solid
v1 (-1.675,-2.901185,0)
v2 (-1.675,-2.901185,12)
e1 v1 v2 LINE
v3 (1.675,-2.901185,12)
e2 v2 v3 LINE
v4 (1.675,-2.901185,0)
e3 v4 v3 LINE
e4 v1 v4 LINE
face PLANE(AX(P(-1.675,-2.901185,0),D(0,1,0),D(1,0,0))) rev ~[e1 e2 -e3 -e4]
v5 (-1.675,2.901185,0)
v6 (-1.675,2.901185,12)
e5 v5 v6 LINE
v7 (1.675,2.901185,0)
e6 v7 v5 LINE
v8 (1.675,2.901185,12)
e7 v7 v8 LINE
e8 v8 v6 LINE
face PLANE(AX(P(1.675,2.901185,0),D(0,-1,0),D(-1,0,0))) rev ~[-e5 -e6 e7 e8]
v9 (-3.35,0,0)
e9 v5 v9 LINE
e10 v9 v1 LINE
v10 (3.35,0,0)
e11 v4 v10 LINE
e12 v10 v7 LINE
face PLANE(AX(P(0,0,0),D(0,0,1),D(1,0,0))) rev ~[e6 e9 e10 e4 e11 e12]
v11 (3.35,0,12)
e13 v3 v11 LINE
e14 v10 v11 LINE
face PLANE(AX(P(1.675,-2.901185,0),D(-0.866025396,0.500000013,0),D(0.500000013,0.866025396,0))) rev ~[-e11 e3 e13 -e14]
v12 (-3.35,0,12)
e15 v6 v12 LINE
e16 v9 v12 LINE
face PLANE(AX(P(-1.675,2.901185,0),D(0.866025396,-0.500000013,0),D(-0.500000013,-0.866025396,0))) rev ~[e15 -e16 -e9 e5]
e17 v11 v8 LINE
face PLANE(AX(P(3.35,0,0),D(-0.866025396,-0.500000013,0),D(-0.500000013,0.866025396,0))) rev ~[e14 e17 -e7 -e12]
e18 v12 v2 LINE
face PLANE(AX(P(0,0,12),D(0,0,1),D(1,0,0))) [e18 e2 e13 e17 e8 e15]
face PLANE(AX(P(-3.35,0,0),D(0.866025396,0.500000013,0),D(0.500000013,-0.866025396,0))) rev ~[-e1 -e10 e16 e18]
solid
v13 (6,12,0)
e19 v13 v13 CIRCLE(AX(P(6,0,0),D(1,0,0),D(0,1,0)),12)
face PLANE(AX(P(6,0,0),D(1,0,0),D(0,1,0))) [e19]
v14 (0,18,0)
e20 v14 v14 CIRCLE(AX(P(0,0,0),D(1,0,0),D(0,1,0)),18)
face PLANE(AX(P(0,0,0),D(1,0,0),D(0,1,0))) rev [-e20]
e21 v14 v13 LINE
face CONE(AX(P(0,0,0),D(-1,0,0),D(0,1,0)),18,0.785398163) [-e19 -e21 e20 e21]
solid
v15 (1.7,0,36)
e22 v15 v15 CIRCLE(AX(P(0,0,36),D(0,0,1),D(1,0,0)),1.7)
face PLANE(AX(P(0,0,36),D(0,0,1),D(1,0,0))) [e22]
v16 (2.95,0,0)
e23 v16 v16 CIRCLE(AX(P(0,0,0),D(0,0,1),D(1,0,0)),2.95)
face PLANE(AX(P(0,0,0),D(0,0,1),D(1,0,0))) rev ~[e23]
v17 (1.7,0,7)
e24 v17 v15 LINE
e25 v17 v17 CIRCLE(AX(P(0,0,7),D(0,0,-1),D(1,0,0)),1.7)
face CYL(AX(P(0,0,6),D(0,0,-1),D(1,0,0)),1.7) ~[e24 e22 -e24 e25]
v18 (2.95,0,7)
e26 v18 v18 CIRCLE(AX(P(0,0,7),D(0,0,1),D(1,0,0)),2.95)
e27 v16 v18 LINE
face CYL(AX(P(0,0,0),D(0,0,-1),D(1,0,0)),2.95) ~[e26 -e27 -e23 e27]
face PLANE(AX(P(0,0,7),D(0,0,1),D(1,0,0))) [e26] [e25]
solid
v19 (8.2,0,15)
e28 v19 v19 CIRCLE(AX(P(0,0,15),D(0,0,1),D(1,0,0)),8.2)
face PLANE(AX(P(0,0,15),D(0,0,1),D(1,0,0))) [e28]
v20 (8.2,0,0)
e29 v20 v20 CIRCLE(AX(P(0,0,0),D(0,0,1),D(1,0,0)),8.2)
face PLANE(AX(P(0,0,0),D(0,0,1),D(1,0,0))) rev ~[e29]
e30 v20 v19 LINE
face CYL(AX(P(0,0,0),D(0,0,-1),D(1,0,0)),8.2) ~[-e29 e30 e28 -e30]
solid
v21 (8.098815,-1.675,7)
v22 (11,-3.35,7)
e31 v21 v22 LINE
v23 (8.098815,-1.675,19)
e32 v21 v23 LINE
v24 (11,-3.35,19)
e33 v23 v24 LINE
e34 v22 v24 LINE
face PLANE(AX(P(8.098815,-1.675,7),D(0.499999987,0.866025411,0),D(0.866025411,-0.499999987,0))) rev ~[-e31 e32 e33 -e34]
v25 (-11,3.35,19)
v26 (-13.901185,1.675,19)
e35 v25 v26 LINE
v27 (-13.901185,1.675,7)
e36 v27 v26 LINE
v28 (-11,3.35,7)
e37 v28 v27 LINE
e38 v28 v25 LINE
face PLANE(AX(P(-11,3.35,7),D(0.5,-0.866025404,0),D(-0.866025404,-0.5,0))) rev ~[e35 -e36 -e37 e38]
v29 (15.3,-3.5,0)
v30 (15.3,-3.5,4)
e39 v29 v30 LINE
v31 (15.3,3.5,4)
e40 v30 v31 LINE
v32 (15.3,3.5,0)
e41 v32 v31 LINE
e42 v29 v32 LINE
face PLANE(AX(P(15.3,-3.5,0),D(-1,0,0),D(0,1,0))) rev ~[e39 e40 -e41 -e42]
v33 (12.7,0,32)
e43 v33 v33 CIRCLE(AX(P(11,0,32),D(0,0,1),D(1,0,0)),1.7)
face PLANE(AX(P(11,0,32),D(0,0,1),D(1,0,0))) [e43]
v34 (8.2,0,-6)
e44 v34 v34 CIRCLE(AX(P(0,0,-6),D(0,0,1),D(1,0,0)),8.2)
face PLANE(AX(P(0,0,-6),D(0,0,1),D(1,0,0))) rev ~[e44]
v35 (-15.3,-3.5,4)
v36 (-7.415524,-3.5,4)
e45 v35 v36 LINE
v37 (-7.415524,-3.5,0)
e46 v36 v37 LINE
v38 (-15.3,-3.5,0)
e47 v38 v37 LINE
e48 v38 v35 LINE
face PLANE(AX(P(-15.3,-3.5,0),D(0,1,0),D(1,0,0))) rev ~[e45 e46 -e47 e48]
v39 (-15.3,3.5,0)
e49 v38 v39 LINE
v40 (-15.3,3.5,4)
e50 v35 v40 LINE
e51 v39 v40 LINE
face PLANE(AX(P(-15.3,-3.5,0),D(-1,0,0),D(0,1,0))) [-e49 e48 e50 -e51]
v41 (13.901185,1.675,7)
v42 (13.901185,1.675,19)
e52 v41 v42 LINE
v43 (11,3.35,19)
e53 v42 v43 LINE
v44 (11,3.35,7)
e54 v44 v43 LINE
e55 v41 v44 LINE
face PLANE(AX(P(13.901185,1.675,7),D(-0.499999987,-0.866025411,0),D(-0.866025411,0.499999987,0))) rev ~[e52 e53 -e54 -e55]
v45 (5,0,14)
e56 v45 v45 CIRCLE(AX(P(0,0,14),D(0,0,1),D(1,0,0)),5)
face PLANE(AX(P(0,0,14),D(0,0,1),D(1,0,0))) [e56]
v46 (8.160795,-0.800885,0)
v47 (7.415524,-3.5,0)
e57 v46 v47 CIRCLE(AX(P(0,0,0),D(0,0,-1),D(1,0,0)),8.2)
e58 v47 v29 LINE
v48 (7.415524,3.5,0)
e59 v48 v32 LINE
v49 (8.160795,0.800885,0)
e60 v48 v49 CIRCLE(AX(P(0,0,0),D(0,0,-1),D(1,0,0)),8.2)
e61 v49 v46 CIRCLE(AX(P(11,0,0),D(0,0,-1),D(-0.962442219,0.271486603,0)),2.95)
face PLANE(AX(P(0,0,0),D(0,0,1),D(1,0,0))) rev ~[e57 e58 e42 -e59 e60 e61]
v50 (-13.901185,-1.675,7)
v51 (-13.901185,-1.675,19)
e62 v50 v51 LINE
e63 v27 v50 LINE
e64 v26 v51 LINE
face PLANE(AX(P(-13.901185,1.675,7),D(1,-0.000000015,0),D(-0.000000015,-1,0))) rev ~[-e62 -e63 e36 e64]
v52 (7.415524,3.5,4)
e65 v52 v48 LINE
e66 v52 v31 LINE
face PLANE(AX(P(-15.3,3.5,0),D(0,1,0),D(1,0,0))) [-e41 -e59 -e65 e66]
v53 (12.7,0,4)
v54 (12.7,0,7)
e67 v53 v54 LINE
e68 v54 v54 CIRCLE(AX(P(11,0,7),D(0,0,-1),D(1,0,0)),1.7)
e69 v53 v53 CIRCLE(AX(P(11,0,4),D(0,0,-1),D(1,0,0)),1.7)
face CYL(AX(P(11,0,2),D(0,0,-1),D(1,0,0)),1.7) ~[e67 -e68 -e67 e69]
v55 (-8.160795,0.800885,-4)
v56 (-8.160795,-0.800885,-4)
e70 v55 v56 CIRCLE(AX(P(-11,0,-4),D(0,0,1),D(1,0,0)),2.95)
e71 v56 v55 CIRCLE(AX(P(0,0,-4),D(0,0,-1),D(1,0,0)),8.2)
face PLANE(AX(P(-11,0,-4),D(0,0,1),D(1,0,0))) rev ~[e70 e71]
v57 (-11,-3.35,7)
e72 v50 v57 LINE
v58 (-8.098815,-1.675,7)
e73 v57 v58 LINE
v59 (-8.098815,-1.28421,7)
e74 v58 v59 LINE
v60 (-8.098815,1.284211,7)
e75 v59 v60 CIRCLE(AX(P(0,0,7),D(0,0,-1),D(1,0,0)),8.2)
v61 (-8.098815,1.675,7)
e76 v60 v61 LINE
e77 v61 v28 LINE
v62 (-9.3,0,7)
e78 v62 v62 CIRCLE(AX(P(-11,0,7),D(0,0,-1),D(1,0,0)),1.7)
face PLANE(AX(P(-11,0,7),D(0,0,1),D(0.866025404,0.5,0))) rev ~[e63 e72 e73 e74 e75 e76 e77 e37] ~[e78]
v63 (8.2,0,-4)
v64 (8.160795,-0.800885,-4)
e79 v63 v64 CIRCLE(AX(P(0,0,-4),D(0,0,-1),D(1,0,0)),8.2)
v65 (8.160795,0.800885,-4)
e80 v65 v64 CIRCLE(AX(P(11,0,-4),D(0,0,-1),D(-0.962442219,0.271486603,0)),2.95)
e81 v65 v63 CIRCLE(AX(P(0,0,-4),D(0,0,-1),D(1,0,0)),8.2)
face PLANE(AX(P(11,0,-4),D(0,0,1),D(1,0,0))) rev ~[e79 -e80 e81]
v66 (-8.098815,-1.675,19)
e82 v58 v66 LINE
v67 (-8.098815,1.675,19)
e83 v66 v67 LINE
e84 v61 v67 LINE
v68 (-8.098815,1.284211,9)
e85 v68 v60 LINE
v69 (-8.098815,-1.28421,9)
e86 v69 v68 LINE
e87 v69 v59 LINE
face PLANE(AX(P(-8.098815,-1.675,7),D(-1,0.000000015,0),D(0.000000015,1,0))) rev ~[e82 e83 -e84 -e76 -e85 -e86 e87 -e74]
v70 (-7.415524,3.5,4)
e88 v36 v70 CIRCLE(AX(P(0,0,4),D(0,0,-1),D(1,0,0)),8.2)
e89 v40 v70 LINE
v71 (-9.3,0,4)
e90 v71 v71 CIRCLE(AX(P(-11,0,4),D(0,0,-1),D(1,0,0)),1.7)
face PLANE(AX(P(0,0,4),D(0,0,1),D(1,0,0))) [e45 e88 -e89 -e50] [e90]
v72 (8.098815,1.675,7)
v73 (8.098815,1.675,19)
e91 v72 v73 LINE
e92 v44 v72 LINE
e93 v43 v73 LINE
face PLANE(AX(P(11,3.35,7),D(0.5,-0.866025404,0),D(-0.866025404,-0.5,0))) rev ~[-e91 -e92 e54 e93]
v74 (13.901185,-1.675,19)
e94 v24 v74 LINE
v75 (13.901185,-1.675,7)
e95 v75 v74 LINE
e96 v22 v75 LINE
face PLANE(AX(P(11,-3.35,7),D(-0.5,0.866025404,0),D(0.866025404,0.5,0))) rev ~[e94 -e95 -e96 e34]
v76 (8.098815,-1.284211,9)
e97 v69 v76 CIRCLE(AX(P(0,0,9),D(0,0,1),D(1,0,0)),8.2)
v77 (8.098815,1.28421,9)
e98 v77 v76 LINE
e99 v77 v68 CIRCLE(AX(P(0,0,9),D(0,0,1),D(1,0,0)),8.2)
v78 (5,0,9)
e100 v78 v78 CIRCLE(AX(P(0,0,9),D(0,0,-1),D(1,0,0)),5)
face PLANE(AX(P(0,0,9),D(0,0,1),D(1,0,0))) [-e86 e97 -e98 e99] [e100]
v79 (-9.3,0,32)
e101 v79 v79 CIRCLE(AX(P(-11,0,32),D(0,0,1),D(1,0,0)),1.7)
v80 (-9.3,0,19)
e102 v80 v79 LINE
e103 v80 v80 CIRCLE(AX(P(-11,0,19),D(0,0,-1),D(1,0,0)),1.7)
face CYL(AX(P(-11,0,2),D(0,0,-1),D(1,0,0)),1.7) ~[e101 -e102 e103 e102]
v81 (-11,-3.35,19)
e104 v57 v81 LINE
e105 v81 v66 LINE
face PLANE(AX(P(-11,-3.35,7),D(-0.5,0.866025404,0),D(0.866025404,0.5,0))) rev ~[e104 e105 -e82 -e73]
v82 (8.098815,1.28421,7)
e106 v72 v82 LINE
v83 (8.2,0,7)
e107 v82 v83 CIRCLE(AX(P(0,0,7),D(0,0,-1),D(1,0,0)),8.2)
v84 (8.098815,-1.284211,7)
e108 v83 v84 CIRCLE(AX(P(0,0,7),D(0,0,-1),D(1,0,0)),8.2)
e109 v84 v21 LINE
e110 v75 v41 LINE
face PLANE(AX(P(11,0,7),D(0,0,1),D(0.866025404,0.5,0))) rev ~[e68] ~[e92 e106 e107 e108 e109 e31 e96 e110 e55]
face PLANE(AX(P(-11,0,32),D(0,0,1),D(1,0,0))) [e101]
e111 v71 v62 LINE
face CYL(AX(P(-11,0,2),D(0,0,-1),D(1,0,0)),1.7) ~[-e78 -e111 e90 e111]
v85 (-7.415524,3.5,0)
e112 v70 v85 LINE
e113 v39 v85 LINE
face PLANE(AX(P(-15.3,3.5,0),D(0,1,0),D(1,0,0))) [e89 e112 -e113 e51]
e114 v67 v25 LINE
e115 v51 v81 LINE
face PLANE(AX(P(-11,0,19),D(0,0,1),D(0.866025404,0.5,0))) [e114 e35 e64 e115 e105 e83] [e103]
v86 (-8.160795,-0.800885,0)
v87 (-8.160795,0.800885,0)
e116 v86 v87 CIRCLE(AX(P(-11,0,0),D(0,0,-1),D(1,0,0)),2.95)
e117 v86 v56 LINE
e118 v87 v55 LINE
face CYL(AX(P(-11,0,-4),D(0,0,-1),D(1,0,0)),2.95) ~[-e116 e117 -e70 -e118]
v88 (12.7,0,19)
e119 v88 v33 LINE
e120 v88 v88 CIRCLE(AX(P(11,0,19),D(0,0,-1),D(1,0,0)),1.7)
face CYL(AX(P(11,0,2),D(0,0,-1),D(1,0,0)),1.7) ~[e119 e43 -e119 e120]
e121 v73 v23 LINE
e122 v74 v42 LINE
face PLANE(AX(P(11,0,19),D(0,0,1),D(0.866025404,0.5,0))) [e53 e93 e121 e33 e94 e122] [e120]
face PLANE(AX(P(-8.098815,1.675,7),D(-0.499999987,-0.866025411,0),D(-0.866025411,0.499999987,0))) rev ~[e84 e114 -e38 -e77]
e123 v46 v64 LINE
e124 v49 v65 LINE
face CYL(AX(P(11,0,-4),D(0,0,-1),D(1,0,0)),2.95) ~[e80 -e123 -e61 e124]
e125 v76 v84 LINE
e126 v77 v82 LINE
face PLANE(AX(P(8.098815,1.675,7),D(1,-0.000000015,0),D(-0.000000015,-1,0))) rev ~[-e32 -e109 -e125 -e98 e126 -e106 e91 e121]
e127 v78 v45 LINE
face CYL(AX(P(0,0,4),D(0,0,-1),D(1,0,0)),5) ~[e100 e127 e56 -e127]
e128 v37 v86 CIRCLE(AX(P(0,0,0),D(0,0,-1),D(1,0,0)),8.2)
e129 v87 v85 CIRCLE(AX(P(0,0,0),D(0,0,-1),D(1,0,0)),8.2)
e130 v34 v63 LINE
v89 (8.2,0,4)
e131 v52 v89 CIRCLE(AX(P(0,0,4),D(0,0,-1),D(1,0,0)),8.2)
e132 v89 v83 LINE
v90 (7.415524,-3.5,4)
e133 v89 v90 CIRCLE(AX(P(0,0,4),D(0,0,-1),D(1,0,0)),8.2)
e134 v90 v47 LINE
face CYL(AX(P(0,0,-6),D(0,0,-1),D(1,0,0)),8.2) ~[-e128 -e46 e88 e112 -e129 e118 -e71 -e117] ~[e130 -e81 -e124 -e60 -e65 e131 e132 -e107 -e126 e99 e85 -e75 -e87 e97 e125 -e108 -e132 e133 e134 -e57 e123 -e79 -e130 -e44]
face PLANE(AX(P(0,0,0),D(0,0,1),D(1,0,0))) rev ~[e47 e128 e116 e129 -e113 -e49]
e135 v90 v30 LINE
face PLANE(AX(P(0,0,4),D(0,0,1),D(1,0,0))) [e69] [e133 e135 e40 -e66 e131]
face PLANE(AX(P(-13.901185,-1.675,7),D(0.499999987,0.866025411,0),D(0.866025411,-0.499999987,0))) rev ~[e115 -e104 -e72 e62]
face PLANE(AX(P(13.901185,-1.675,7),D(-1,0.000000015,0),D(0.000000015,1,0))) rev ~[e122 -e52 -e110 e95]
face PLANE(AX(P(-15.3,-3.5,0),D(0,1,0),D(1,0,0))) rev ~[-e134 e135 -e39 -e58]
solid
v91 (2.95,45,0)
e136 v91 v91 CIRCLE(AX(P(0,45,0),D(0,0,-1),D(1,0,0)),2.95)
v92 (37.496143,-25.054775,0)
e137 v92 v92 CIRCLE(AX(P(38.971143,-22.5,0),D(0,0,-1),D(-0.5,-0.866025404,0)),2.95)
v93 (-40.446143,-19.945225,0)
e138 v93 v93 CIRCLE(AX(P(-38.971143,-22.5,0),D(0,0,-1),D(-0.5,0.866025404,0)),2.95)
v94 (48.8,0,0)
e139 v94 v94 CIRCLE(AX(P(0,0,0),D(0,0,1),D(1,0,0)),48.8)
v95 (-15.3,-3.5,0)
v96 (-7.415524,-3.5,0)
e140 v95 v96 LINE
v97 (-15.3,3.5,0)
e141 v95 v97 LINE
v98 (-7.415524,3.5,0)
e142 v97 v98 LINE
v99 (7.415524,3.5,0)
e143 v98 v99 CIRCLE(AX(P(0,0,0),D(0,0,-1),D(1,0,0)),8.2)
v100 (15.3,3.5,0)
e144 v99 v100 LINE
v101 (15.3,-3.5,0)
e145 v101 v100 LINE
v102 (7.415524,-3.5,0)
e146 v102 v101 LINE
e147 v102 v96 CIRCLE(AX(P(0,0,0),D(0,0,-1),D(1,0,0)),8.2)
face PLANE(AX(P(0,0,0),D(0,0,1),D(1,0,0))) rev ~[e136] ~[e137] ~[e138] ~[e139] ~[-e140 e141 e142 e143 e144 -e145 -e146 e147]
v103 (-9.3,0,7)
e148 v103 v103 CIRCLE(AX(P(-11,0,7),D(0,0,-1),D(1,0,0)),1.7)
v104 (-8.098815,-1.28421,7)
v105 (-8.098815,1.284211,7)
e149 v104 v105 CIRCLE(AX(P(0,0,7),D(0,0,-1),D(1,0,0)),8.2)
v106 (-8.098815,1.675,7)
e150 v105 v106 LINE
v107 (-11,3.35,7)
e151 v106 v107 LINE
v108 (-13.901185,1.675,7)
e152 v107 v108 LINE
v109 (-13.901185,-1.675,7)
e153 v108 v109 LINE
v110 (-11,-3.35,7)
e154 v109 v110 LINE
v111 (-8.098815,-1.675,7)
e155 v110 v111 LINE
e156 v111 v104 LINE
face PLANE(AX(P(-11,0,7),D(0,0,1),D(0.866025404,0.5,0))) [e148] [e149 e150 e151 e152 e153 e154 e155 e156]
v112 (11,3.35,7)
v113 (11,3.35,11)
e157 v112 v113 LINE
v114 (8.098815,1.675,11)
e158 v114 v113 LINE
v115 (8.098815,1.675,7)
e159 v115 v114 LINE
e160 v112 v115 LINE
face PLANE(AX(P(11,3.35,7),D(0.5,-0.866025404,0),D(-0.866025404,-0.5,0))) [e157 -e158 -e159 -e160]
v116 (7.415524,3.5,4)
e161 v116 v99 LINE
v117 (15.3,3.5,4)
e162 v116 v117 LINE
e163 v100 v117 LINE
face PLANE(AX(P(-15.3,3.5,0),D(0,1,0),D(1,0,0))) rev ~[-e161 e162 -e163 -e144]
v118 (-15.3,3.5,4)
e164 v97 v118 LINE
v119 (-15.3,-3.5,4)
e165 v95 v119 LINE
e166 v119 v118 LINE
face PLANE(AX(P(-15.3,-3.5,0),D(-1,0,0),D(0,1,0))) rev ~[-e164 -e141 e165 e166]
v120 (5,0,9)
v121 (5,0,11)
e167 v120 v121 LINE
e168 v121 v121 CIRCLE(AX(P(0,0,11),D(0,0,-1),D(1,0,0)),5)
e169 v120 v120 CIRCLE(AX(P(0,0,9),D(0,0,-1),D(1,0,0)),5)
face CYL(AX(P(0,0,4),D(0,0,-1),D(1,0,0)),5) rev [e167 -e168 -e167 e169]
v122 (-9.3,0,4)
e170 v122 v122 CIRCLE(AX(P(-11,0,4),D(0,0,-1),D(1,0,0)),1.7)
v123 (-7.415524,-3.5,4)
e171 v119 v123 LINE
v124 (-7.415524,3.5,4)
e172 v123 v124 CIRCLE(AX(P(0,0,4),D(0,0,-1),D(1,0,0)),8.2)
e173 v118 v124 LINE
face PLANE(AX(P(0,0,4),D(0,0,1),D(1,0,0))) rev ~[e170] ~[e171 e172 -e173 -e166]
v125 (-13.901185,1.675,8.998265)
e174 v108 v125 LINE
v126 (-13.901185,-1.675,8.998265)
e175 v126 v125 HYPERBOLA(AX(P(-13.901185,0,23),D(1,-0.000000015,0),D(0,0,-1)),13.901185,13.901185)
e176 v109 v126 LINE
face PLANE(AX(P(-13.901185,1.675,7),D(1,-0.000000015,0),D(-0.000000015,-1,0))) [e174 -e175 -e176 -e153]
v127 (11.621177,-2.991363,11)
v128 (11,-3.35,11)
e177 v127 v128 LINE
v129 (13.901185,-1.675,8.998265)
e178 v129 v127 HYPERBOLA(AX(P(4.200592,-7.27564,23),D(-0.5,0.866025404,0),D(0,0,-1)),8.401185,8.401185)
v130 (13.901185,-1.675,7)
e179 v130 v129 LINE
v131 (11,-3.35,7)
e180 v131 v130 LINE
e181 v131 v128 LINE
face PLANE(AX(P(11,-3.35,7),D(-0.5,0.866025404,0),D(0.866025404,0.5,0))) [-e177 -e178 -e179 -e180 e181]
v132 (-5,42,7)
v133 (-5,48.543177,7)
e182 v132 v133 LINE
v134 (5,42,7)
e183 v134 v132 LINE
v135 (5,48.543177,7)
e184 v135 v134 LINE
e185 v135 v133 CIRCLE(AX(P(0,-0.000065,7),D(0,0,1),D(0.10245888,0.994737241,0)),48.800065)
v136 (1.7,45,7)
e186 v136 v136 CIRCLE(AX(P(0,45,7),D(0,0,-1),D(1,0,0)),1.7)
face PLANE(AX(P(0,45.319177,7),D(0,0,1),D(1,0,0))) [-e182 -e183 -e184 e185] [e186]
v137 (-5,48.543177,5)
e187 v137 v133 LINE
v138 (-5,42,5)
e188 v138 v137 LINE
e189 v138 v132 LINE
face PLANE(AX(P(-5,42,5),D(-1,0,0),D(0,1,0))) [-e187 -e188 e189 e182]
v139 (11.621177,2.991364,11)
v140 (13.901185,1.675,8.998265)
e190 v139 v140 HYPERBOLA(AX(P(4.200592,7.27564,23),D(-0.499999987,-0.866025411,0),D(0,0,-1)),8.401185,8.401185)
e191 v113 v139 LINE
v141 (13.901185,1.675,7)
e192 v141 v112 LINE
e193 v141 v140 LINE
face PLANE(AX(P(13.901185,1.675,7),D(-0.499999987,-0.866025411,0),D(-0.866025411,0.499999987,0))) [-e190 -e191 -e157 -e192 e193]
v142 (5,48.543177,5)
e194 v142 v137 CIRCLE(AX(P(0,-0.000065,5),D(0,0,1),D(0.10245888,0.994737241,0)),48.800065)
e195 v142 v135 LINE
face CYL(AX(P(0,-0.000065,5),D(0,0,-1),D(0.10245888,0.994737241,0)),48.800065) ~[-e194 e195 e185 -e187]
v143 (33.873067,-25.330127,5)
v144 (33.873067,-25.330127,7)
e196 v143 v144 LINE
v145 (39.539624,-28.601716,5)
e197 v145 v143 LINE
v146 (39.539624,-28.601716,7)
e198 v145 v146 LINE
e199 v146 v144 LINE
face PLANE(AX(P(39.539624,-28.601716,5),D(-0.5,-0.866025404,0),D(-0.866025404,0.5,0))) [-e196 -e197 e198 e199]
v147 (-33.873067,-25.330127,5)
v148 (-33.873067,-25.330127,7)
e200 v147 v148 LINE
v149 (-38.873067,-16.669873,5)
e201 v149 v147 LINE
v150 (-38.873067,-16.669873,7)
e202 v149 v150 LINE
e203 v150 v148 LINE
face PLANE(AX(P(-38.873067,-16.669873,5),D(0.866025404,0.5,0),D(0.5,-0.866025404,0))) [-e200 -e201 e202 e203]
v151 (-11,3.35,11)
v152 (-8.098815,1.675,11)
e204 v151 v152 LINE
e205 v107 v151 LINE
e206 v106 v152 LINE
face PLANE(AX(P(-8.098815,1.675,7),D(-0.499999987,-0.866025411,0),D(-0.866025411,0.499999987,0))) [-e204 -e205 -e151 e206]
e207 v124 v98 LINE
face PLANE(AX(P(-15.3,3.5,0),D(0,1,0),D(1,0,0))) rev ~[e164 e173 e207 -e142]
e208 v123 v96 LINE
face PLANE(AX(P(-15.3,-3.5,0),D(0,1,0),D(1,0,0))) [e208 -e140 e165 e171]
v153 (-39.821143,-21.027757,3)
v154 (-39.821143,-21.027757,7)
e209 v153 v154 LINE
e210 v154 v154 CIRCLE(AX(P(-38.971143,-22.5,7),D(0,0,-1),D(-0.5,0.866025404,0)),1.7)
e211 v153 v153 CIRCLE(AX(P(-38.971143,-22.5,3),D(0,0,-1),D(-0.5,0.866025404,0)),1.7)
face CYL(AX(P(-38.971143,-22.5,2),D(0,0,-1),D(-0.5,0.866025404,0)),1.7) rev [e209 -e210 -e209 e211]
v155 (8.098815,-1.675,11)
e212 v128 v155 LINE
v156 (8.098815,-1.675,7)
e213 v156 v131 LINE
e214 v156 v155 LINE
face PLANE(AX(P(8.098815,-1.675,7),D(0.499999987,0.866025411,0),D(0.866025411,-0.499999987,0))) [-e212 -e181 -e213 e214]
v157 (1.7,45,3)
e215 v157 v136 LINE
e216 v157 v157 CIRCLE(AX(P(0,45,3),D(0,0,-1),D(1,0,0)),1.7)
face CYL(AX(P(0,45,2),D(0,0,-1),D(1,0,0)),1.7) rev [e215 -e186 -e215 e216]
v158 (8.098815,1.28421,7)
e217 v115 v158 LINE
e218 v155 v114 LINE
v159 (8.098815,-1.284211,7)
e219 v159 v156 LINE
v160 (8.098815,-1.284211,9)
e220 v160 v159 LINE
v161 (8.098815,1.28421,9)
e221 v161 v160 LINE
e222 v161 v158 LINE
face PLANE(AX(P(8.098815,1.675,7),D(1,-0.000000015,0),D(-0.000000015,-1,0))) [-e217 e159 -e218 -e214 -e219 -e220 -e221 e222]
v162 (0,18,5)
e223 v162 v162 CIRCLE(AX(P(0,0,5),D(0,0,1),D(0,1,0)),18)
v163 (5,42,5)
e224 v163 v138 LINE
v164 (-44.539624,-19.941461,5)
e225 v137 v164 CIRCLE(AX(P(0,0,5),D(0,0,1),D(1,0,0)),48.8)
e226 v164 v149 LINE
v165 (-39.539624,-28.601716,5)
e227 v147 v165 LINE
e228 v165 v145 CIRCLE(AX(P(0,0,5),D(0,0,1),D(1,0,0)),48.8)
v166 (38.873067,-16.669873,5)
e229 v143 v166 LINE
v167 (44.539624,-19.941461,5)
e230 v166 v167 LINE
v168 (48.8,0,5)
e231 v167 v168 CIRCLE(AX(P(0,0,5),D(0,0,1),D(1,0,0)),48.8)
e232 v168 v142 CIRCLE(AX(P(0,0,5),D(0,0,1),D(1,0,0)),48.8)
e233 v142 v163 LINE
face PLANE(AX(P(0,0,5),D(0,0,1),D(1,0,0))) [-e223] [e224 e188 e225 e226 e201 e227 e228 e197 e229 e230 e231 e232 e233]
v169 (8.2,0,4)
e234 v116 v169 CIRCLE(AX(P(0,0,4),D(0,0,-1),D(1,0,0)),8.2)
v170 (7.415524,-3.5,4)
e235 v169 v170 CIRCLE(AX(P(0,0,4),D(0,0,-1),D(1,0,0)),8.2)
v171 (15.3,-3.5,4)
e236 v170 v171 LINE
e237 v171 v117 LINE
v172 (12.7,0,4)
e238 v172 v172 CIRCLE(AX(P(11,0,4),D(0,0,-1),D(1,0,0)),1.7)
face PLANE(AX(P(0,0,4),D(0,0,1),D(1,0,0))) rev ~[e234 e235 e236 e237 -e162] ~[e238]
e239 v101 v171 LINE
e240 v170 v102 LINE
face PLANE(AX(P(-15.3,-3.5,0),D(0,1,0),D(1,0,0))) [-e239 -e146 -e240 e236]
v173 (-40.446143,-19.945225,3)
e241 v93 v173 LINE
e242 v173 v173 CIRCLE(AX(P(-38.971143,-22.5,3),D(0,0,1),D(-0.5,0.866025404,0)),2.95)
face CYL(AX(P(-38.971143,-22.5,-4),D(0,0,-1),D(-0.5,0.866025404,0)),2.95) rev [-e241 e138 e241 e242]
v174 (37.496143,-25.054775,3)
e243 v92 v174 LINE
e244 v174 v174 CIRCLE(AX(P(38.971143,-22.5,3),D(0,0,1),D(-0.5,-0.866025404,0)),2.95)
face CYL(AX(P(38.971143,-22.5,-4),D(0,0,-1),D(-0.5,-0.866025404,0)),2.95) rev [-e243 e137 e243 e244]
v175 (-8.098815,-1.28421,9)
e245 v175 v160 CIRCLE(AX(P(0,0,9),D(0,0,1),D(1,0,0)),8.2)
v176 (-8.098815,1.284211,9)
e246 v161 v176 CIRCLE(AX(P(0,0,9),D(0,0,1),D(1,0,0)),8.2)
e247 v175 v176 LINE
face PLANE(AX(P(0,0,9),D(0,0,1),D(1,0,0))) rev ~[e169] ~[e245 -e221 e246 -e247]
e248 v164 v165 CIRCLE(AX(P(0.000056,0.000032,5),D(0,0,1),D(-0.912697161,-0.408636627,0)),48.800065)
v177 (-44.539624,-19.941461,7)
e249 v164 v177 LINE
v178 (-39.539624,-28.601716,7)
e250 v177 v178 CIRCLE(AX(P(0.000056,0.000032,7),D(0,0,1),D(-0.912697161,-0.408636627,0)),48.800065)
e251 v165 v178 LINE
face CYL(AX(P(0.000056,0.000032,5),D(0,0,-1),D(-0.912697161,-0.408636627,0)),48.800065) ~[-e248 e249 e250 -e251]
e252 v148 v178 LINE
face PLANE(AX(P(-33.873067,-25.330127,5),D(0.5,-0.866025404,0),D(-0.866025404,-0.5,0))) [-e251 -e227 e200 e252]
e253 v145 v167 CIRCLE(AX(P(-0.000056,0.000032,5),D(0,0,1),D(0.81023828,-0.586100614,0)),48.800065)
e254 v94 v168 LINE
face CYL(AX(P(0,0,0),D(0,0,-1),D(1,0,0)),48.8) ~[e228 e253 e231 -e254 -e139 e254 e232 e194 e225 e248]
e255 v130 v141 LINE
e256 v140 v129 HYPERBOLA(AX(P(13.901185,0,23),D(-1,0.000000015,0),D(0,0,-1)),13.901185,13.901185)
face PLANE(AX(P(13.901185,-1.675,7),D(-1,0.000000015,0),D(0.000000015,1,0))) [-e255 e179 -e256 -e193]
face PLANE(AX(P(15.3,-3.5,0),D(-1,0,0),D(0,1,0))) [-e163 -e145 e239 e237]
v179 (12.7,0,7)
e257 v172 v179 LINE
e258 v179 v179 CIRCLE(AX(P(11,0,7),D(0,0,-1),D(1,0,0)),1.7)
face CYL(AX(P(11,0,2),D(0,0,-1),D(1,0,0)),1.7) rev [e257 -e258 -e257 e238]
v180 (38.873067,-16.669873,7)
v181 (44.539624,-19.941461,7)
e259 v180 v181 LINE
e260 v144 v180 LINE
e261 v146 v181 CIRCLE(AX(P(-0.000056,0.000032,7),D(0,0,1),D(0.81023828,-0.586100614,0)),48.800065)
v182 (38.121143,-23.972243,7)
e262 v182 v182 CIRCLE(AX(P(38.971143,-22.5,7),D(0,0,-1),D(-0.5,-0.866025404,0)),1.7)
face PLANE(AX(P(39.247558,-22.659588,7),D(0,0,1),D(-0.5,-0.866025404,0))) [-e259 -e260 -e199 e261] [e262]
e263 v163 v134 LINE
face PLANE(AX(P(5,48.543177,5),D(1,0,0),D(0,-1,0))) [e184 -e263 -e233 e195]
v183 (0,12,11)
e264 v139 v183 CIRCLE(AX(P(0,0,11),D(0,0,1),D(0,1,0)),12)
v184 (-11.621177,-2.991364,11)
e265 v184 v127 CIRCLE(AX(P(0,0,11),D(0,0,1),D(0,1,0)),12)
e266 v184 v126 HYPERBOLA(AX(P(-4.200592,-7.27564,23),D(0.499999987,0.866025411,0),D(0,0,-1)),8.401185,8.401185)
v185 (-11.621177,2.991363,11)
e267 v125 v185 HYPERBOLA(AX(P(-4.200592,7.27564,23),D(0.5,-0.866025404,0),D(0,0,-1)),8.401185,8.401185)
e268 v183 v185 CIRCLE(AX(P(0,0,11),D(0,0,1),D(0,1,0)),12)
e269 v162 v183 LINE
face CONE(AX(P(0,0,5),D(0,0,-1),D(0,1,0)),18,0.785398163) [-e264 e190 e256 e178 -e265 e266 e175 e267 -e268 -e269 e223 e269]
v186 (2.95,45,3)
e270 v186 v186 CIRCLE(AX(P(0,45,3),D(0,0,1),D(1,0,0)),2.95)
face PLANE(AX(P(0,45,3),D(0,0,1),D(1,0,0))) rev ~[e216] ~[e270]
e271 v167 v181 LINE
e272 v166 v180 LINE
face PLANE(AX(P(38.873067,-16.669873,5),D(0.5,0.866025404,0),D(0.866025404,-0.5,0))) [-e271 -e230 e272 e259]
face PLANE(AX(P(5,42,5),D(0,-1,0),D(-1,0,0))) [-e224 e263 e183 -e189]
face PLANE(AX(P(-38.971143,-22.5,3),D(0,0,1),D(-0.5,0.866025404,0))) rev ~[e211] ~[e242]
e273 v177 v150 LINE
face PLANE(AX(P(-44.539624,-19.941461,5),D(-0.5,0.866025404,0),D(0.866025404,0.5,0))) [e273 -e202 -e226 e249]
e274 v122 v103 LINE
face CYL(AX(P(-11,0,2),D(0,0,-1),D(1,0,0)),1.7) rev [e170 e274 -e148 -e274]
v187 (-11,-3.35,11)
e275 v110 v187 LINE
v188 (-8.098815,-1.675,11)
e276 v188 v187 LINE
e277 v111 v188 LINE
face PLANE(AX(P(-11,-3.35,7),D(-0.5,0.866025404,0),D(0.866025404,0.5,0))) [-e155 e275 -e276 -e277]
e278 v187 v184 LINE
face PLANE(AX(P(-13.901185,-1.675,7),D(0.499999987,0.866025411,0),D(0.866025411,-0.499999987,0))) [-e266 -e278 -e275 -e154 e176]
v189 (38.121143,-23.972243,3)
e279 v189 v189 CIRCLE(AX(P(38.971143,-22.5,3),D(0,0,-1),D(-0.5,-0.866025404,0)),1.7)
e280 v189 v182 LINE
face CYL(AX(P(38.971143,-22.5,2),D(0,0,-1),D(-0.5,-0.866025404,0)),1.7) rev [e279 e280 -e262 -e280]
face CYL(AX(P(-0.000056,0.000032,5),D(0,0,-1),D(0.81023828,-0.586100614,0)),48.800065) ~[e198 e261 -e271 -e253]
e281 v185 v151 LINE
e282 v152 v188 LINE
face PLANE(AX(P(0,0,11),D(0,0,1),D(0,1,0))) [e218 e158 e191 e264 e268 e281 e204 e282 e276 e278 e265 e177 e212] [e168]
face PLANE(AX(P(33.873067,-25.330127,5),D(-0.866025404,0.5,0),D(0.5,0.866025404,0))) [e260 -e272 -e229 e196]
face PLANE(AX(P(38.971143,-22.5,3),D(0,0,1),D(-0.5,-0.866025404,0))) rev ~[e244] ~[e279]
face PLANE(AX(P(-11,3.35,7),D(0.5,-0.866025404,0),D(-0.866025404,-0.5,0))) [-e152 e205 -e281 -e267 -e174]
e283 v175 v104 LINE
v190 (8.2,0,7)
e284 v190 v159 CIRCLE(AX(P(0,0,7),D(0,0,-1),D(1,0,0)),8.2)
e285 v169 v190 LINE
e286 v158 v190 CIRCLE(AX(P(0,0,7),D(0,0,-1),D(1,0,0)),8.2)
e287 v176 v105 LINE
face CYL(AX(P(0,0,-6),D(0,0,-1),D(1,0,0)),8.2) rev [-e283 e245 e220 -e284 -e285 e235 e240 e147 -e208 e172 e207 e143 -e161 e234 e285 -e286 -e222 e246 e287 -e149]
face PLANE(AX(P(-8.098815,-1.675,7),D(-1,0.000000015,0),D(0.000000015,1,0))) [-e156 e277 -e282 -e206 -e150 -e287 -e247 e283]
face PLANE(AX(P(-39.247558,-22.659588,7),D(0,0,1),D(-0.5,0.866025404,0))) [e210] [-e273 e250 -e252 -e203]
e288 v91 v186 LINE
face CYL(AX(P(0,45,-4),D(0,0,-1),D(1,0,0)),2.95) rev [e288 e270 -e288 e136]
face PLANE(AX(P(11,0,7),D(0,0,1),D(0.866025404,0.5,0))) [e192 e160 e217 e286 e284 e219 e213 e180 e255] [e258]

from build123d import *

# Parameters (mm, degrees)
CYLINDER_R               = 2.95
CYLINDER_DEPTH           = 7
CYLINDER001_R            = 1.7
CYLINDER001_DEPTH        = 30
PRISM_DEPTH              = 12
CYLINDER1003_R           = 8.2
CYLINDER1003_DEPTH       = 15
CLONE139_PLACEMENT_ANGLE = 30
BOX251_W                 = 30.6
BOX251_H                 = 7
BOX251_DEPTH             = 4
CYLINDER1015_R           = 5
CYLINDER1015_DEPTH       = 10
CLONE140_PLACEMENT_ANGLE = 30
CLONE135_PITCH_ANGLE     = -90
ARRAY008_COUNT           = 3
CYLINDER1014_R           = 48.8
CYLINDER1014_DEPTH       = 5
PAD019_DEPTH             = 2
ARRAY007_COUNT           = 3


with BuildPart() as m3bolthead:
    # Cylinder → Cylinder (new body)
    with BuildSketch(Plane.XY):
        Circle(CYLINDER_R)
    extrude(amount=CYLINDER_DEPTH)


with BuildPart() as m3bolt:
    # Cylinder001 → Cylinder001 (new body)
    with BuildSketch(Plane.XY.offset(6)):
        Circle(CYLINDER001_R)
    extrude(amount=CYLINDER001_DEPTH)

    # Fusion: union M3BoltHead
    add(m3bolthead.part)


with BuildPart() as m3nut:
    # Prism → Prism (new body)
    with BuildSketch(Plane.XY):
        Polygon((3.35, 0), (1.675, 2.901185), (-1.675, 2.901185), (-3.35, 0), (-1.675, -2.901185), (1.675, -2.901185), align=None)
    extrude(amount=PRISM_DEPTH)


with BuildPart() as f_625zzbearinghousingnoholes:
    # Sketch016 → Revolution003 (revolve)
    with BuildSketch(Plane.XY):
        Polygon((0, 0), (0, 18), (6, 12), (6, 0), align=None)
    revolve(axis=Axis((0, 0, 0), (1, 0, 0)))


with BuildPart() as bearing625zzmaster:
    # Cylinder1003 → Cylinder1003 (new body)
    with BuildSketch(Plane.XY):
        Circle(CYLINDER1003_R)
    extrude(amount=CYLINDER1003_DEPTH)


with BuildPart() as clone_of_m3nut005:
    # Clone139 base: copy of M3Nut
    add(m3nut.part)


with BuildPart() as clone_of_m3nut005_1:
    # Clone139 placement: moved
    add(clone_of_m3nut005.part.moved(Location((11, 0, 7))).rotate(Axis((11, 0, 7), (0, 0, 1)), CLONE139_PLACEMENT_ANGLE))


with BuildPart() as cube015:
    # Box251 → Box251 (new body)
    with BuildSketch(Plane(origin=(-15.3, -3.5, 0), x_dir=(1, 0, 0), z_dir=(0, 0, 1))):
        with Locations((15.3, 3.5)):
            Rectangle(BOX251_W, BOX251_H)
    extrude(amount=BOX251_DEPTH)


with BuildPart() as clone_of_m3bolt039:
    # Clone137 base: copy of M3Bolt
    add(m3bolt.part)


with BuildPart() as clone_of_m3bolt039_1:
    # Clone137 placement: moved
    add(clone_of_m3bolt039.part.moved(Location((11, 0, -4))))


with BuildPart() as clone_of_m3bolt040:
    # Clone138 base: copy of M3Bolt
    add(m3bolt.part)


with BuildPart() as clone_of_m3bolt040_1:
    # Clone138 placement: moved
    add(clone_of_m3bolt040.part.moved(Location((-11, 0, -4))))


with BuildPart() as cylinder021:
    # Cylinder1015 → Cylinder1015 (new body)
    with BuildSketch(Plane.XY.offset(4)):
        Circle(CYLINDER1015_R)
    extrude(amount=CYLINDER1015_DEPTH)


with BuildPart() as clone_of_bearing625zzmaster:
    # Clone136 base: copy of Bearing625ZZMaster
    add(bearing625zzmaster.part)


with BuildPart() as clone_of_bearing625zzmaster_1:
    # Clone136 placement: moved
    add(clone_of_bearing625zzmaster.part.moved(Location((0, 0, -6))))


with BuildPart() as bearing625zzholes:
    # Clone140 base: copy of M3Nut
    add(m3nut.part)


with BuildPart() as bearing625zzholes_1:
    # Clone140 placement: moved
    add(bearing625zzholes.part.moved(Location((-11, 0, 7))).rotate(Axis((-11, 0, 7), (0, 0, 1)), CLONE140_PLACEMENT_ANGLE))

    # Fusion062: union Clone of M3Nut005, Cube015, Clone of M3Bolt039, Clone of M3Bolt040, Cylinder021, Clone of Bearing625ZZMaster
    add(clone_of_m3nut005_1.part)
    add(cube015.part)
    add(clone_of_m3bolt039_1.part)
    add(clone_of_m3bolt040_1.part)
    add(cylinder021.part)
    add(clone_of_bearing625zzmaster_1.part)


with BuildPart() as clone_of_bearing622zzholes:
    # Clone141 base: copy of Bearing625zzHoles
    add(bearing625zzholes_1.part)


with BuildPart() as clone_of_625zzbearinghousingnoholes:
    # Clone135 base: copy of 625ZZBearingHousingNoHoles
    add(f_625zzbearinghousingnoholes.part)


with BuildPart() as clone_of_625zzbearinghousingnoholes_1:
    # Clone135 pitch: moved
    add(clone_of_625zzbearinghousingnoholes.part.rotate(Axis((0, 0, 0), (0, 1, 0)), CLONE135_PITCH_ANGLE))


with BuildPart() as clone_of_625zzbearinghousingnoholes_2:
    # Clone135 placement: moved
    add(clone_of_625zzbearinghousingnoholes_1.part.moved(Location((0, 0, 5))))


with BuildPart() as array008:
    # Clone134 base: copy of M3Bolt
    add(m3bolt.part)


with BuildPart() as array008_1:
    # Clone134 placement: moved
    add(array008.part.moved(Location((0, 45, -4))))

    # Array008: Array008 ×3 about axis
    array008_axis = Axis((0, 0, 0), (0, 0, 1))


with BuildPart() as array008_2:
    add(array008_1.part)
    for i in range(1, ARRAY008_COUNT):
        add(array008_1.part.rotate(array008_axis, i * 360 / ARRAY008_COUNT))


with BuildPart() as cylinder020:
    # Cylinder1014 → Cylinder1014 (new body)
    with BuildSketch(Plane.XY):
        Circle(CYLINDER1014_R)
    extrude(amount=CYLINDER1014_DEPTH)


with BuildPart() as art2bodyawindow:
    # Sketch027 → Pad019 (new body)
    with BuildSketch(Plane.XY.offset(5)):
        with BuildLine():
            ThreePointArc((5, 48.543177), (0, 48.8), (-5, 48.543177))
            Line((-5, 42), (-5, 48.543177))
            Line((5, 42), (-5, 42))
            Line((5, 48.543177), (5, 42))
        make_face()
    extrude(amount=PAD019_DEPTH)

    # Array007: Art2BodyAWindow ×3 about axis
    array007_axis = Axis((0, 0, 0), (0, 0, 1))


with BuildPart() as art2bodyawindow_1:
    add(art2bodyawindow.part)
    for i in range(1, ARRAY007_COUNT):
        add(art2bodyawindow.part.rotate(array007_axis, i * 360 / ARRAY007_COUNT))

    # Fusion063: union Cylinder020
    add(cylinder020.part)

    # Cut: cut Array008
    add(array008_2.part, mode=Mode.SUBTRACT)

    # Fusion064: union Clone of 625ZZBearingHousingNoHoles
    add(clone_of_625zzbearinghousingnoholes_2.part)

    # Cut001: cut Clone of Bearing622zzHoles
    add(clone_of_bearing622zzholes.part, mode=Mode.SUBTRACT)


solid = Compound([m3bolt.part, m3nut.part, f_625zzbearinghousingnoholes.part, bearing625zzmaster.part, bearing625zzholes_1.part, art2bodyawindow_1.part])
